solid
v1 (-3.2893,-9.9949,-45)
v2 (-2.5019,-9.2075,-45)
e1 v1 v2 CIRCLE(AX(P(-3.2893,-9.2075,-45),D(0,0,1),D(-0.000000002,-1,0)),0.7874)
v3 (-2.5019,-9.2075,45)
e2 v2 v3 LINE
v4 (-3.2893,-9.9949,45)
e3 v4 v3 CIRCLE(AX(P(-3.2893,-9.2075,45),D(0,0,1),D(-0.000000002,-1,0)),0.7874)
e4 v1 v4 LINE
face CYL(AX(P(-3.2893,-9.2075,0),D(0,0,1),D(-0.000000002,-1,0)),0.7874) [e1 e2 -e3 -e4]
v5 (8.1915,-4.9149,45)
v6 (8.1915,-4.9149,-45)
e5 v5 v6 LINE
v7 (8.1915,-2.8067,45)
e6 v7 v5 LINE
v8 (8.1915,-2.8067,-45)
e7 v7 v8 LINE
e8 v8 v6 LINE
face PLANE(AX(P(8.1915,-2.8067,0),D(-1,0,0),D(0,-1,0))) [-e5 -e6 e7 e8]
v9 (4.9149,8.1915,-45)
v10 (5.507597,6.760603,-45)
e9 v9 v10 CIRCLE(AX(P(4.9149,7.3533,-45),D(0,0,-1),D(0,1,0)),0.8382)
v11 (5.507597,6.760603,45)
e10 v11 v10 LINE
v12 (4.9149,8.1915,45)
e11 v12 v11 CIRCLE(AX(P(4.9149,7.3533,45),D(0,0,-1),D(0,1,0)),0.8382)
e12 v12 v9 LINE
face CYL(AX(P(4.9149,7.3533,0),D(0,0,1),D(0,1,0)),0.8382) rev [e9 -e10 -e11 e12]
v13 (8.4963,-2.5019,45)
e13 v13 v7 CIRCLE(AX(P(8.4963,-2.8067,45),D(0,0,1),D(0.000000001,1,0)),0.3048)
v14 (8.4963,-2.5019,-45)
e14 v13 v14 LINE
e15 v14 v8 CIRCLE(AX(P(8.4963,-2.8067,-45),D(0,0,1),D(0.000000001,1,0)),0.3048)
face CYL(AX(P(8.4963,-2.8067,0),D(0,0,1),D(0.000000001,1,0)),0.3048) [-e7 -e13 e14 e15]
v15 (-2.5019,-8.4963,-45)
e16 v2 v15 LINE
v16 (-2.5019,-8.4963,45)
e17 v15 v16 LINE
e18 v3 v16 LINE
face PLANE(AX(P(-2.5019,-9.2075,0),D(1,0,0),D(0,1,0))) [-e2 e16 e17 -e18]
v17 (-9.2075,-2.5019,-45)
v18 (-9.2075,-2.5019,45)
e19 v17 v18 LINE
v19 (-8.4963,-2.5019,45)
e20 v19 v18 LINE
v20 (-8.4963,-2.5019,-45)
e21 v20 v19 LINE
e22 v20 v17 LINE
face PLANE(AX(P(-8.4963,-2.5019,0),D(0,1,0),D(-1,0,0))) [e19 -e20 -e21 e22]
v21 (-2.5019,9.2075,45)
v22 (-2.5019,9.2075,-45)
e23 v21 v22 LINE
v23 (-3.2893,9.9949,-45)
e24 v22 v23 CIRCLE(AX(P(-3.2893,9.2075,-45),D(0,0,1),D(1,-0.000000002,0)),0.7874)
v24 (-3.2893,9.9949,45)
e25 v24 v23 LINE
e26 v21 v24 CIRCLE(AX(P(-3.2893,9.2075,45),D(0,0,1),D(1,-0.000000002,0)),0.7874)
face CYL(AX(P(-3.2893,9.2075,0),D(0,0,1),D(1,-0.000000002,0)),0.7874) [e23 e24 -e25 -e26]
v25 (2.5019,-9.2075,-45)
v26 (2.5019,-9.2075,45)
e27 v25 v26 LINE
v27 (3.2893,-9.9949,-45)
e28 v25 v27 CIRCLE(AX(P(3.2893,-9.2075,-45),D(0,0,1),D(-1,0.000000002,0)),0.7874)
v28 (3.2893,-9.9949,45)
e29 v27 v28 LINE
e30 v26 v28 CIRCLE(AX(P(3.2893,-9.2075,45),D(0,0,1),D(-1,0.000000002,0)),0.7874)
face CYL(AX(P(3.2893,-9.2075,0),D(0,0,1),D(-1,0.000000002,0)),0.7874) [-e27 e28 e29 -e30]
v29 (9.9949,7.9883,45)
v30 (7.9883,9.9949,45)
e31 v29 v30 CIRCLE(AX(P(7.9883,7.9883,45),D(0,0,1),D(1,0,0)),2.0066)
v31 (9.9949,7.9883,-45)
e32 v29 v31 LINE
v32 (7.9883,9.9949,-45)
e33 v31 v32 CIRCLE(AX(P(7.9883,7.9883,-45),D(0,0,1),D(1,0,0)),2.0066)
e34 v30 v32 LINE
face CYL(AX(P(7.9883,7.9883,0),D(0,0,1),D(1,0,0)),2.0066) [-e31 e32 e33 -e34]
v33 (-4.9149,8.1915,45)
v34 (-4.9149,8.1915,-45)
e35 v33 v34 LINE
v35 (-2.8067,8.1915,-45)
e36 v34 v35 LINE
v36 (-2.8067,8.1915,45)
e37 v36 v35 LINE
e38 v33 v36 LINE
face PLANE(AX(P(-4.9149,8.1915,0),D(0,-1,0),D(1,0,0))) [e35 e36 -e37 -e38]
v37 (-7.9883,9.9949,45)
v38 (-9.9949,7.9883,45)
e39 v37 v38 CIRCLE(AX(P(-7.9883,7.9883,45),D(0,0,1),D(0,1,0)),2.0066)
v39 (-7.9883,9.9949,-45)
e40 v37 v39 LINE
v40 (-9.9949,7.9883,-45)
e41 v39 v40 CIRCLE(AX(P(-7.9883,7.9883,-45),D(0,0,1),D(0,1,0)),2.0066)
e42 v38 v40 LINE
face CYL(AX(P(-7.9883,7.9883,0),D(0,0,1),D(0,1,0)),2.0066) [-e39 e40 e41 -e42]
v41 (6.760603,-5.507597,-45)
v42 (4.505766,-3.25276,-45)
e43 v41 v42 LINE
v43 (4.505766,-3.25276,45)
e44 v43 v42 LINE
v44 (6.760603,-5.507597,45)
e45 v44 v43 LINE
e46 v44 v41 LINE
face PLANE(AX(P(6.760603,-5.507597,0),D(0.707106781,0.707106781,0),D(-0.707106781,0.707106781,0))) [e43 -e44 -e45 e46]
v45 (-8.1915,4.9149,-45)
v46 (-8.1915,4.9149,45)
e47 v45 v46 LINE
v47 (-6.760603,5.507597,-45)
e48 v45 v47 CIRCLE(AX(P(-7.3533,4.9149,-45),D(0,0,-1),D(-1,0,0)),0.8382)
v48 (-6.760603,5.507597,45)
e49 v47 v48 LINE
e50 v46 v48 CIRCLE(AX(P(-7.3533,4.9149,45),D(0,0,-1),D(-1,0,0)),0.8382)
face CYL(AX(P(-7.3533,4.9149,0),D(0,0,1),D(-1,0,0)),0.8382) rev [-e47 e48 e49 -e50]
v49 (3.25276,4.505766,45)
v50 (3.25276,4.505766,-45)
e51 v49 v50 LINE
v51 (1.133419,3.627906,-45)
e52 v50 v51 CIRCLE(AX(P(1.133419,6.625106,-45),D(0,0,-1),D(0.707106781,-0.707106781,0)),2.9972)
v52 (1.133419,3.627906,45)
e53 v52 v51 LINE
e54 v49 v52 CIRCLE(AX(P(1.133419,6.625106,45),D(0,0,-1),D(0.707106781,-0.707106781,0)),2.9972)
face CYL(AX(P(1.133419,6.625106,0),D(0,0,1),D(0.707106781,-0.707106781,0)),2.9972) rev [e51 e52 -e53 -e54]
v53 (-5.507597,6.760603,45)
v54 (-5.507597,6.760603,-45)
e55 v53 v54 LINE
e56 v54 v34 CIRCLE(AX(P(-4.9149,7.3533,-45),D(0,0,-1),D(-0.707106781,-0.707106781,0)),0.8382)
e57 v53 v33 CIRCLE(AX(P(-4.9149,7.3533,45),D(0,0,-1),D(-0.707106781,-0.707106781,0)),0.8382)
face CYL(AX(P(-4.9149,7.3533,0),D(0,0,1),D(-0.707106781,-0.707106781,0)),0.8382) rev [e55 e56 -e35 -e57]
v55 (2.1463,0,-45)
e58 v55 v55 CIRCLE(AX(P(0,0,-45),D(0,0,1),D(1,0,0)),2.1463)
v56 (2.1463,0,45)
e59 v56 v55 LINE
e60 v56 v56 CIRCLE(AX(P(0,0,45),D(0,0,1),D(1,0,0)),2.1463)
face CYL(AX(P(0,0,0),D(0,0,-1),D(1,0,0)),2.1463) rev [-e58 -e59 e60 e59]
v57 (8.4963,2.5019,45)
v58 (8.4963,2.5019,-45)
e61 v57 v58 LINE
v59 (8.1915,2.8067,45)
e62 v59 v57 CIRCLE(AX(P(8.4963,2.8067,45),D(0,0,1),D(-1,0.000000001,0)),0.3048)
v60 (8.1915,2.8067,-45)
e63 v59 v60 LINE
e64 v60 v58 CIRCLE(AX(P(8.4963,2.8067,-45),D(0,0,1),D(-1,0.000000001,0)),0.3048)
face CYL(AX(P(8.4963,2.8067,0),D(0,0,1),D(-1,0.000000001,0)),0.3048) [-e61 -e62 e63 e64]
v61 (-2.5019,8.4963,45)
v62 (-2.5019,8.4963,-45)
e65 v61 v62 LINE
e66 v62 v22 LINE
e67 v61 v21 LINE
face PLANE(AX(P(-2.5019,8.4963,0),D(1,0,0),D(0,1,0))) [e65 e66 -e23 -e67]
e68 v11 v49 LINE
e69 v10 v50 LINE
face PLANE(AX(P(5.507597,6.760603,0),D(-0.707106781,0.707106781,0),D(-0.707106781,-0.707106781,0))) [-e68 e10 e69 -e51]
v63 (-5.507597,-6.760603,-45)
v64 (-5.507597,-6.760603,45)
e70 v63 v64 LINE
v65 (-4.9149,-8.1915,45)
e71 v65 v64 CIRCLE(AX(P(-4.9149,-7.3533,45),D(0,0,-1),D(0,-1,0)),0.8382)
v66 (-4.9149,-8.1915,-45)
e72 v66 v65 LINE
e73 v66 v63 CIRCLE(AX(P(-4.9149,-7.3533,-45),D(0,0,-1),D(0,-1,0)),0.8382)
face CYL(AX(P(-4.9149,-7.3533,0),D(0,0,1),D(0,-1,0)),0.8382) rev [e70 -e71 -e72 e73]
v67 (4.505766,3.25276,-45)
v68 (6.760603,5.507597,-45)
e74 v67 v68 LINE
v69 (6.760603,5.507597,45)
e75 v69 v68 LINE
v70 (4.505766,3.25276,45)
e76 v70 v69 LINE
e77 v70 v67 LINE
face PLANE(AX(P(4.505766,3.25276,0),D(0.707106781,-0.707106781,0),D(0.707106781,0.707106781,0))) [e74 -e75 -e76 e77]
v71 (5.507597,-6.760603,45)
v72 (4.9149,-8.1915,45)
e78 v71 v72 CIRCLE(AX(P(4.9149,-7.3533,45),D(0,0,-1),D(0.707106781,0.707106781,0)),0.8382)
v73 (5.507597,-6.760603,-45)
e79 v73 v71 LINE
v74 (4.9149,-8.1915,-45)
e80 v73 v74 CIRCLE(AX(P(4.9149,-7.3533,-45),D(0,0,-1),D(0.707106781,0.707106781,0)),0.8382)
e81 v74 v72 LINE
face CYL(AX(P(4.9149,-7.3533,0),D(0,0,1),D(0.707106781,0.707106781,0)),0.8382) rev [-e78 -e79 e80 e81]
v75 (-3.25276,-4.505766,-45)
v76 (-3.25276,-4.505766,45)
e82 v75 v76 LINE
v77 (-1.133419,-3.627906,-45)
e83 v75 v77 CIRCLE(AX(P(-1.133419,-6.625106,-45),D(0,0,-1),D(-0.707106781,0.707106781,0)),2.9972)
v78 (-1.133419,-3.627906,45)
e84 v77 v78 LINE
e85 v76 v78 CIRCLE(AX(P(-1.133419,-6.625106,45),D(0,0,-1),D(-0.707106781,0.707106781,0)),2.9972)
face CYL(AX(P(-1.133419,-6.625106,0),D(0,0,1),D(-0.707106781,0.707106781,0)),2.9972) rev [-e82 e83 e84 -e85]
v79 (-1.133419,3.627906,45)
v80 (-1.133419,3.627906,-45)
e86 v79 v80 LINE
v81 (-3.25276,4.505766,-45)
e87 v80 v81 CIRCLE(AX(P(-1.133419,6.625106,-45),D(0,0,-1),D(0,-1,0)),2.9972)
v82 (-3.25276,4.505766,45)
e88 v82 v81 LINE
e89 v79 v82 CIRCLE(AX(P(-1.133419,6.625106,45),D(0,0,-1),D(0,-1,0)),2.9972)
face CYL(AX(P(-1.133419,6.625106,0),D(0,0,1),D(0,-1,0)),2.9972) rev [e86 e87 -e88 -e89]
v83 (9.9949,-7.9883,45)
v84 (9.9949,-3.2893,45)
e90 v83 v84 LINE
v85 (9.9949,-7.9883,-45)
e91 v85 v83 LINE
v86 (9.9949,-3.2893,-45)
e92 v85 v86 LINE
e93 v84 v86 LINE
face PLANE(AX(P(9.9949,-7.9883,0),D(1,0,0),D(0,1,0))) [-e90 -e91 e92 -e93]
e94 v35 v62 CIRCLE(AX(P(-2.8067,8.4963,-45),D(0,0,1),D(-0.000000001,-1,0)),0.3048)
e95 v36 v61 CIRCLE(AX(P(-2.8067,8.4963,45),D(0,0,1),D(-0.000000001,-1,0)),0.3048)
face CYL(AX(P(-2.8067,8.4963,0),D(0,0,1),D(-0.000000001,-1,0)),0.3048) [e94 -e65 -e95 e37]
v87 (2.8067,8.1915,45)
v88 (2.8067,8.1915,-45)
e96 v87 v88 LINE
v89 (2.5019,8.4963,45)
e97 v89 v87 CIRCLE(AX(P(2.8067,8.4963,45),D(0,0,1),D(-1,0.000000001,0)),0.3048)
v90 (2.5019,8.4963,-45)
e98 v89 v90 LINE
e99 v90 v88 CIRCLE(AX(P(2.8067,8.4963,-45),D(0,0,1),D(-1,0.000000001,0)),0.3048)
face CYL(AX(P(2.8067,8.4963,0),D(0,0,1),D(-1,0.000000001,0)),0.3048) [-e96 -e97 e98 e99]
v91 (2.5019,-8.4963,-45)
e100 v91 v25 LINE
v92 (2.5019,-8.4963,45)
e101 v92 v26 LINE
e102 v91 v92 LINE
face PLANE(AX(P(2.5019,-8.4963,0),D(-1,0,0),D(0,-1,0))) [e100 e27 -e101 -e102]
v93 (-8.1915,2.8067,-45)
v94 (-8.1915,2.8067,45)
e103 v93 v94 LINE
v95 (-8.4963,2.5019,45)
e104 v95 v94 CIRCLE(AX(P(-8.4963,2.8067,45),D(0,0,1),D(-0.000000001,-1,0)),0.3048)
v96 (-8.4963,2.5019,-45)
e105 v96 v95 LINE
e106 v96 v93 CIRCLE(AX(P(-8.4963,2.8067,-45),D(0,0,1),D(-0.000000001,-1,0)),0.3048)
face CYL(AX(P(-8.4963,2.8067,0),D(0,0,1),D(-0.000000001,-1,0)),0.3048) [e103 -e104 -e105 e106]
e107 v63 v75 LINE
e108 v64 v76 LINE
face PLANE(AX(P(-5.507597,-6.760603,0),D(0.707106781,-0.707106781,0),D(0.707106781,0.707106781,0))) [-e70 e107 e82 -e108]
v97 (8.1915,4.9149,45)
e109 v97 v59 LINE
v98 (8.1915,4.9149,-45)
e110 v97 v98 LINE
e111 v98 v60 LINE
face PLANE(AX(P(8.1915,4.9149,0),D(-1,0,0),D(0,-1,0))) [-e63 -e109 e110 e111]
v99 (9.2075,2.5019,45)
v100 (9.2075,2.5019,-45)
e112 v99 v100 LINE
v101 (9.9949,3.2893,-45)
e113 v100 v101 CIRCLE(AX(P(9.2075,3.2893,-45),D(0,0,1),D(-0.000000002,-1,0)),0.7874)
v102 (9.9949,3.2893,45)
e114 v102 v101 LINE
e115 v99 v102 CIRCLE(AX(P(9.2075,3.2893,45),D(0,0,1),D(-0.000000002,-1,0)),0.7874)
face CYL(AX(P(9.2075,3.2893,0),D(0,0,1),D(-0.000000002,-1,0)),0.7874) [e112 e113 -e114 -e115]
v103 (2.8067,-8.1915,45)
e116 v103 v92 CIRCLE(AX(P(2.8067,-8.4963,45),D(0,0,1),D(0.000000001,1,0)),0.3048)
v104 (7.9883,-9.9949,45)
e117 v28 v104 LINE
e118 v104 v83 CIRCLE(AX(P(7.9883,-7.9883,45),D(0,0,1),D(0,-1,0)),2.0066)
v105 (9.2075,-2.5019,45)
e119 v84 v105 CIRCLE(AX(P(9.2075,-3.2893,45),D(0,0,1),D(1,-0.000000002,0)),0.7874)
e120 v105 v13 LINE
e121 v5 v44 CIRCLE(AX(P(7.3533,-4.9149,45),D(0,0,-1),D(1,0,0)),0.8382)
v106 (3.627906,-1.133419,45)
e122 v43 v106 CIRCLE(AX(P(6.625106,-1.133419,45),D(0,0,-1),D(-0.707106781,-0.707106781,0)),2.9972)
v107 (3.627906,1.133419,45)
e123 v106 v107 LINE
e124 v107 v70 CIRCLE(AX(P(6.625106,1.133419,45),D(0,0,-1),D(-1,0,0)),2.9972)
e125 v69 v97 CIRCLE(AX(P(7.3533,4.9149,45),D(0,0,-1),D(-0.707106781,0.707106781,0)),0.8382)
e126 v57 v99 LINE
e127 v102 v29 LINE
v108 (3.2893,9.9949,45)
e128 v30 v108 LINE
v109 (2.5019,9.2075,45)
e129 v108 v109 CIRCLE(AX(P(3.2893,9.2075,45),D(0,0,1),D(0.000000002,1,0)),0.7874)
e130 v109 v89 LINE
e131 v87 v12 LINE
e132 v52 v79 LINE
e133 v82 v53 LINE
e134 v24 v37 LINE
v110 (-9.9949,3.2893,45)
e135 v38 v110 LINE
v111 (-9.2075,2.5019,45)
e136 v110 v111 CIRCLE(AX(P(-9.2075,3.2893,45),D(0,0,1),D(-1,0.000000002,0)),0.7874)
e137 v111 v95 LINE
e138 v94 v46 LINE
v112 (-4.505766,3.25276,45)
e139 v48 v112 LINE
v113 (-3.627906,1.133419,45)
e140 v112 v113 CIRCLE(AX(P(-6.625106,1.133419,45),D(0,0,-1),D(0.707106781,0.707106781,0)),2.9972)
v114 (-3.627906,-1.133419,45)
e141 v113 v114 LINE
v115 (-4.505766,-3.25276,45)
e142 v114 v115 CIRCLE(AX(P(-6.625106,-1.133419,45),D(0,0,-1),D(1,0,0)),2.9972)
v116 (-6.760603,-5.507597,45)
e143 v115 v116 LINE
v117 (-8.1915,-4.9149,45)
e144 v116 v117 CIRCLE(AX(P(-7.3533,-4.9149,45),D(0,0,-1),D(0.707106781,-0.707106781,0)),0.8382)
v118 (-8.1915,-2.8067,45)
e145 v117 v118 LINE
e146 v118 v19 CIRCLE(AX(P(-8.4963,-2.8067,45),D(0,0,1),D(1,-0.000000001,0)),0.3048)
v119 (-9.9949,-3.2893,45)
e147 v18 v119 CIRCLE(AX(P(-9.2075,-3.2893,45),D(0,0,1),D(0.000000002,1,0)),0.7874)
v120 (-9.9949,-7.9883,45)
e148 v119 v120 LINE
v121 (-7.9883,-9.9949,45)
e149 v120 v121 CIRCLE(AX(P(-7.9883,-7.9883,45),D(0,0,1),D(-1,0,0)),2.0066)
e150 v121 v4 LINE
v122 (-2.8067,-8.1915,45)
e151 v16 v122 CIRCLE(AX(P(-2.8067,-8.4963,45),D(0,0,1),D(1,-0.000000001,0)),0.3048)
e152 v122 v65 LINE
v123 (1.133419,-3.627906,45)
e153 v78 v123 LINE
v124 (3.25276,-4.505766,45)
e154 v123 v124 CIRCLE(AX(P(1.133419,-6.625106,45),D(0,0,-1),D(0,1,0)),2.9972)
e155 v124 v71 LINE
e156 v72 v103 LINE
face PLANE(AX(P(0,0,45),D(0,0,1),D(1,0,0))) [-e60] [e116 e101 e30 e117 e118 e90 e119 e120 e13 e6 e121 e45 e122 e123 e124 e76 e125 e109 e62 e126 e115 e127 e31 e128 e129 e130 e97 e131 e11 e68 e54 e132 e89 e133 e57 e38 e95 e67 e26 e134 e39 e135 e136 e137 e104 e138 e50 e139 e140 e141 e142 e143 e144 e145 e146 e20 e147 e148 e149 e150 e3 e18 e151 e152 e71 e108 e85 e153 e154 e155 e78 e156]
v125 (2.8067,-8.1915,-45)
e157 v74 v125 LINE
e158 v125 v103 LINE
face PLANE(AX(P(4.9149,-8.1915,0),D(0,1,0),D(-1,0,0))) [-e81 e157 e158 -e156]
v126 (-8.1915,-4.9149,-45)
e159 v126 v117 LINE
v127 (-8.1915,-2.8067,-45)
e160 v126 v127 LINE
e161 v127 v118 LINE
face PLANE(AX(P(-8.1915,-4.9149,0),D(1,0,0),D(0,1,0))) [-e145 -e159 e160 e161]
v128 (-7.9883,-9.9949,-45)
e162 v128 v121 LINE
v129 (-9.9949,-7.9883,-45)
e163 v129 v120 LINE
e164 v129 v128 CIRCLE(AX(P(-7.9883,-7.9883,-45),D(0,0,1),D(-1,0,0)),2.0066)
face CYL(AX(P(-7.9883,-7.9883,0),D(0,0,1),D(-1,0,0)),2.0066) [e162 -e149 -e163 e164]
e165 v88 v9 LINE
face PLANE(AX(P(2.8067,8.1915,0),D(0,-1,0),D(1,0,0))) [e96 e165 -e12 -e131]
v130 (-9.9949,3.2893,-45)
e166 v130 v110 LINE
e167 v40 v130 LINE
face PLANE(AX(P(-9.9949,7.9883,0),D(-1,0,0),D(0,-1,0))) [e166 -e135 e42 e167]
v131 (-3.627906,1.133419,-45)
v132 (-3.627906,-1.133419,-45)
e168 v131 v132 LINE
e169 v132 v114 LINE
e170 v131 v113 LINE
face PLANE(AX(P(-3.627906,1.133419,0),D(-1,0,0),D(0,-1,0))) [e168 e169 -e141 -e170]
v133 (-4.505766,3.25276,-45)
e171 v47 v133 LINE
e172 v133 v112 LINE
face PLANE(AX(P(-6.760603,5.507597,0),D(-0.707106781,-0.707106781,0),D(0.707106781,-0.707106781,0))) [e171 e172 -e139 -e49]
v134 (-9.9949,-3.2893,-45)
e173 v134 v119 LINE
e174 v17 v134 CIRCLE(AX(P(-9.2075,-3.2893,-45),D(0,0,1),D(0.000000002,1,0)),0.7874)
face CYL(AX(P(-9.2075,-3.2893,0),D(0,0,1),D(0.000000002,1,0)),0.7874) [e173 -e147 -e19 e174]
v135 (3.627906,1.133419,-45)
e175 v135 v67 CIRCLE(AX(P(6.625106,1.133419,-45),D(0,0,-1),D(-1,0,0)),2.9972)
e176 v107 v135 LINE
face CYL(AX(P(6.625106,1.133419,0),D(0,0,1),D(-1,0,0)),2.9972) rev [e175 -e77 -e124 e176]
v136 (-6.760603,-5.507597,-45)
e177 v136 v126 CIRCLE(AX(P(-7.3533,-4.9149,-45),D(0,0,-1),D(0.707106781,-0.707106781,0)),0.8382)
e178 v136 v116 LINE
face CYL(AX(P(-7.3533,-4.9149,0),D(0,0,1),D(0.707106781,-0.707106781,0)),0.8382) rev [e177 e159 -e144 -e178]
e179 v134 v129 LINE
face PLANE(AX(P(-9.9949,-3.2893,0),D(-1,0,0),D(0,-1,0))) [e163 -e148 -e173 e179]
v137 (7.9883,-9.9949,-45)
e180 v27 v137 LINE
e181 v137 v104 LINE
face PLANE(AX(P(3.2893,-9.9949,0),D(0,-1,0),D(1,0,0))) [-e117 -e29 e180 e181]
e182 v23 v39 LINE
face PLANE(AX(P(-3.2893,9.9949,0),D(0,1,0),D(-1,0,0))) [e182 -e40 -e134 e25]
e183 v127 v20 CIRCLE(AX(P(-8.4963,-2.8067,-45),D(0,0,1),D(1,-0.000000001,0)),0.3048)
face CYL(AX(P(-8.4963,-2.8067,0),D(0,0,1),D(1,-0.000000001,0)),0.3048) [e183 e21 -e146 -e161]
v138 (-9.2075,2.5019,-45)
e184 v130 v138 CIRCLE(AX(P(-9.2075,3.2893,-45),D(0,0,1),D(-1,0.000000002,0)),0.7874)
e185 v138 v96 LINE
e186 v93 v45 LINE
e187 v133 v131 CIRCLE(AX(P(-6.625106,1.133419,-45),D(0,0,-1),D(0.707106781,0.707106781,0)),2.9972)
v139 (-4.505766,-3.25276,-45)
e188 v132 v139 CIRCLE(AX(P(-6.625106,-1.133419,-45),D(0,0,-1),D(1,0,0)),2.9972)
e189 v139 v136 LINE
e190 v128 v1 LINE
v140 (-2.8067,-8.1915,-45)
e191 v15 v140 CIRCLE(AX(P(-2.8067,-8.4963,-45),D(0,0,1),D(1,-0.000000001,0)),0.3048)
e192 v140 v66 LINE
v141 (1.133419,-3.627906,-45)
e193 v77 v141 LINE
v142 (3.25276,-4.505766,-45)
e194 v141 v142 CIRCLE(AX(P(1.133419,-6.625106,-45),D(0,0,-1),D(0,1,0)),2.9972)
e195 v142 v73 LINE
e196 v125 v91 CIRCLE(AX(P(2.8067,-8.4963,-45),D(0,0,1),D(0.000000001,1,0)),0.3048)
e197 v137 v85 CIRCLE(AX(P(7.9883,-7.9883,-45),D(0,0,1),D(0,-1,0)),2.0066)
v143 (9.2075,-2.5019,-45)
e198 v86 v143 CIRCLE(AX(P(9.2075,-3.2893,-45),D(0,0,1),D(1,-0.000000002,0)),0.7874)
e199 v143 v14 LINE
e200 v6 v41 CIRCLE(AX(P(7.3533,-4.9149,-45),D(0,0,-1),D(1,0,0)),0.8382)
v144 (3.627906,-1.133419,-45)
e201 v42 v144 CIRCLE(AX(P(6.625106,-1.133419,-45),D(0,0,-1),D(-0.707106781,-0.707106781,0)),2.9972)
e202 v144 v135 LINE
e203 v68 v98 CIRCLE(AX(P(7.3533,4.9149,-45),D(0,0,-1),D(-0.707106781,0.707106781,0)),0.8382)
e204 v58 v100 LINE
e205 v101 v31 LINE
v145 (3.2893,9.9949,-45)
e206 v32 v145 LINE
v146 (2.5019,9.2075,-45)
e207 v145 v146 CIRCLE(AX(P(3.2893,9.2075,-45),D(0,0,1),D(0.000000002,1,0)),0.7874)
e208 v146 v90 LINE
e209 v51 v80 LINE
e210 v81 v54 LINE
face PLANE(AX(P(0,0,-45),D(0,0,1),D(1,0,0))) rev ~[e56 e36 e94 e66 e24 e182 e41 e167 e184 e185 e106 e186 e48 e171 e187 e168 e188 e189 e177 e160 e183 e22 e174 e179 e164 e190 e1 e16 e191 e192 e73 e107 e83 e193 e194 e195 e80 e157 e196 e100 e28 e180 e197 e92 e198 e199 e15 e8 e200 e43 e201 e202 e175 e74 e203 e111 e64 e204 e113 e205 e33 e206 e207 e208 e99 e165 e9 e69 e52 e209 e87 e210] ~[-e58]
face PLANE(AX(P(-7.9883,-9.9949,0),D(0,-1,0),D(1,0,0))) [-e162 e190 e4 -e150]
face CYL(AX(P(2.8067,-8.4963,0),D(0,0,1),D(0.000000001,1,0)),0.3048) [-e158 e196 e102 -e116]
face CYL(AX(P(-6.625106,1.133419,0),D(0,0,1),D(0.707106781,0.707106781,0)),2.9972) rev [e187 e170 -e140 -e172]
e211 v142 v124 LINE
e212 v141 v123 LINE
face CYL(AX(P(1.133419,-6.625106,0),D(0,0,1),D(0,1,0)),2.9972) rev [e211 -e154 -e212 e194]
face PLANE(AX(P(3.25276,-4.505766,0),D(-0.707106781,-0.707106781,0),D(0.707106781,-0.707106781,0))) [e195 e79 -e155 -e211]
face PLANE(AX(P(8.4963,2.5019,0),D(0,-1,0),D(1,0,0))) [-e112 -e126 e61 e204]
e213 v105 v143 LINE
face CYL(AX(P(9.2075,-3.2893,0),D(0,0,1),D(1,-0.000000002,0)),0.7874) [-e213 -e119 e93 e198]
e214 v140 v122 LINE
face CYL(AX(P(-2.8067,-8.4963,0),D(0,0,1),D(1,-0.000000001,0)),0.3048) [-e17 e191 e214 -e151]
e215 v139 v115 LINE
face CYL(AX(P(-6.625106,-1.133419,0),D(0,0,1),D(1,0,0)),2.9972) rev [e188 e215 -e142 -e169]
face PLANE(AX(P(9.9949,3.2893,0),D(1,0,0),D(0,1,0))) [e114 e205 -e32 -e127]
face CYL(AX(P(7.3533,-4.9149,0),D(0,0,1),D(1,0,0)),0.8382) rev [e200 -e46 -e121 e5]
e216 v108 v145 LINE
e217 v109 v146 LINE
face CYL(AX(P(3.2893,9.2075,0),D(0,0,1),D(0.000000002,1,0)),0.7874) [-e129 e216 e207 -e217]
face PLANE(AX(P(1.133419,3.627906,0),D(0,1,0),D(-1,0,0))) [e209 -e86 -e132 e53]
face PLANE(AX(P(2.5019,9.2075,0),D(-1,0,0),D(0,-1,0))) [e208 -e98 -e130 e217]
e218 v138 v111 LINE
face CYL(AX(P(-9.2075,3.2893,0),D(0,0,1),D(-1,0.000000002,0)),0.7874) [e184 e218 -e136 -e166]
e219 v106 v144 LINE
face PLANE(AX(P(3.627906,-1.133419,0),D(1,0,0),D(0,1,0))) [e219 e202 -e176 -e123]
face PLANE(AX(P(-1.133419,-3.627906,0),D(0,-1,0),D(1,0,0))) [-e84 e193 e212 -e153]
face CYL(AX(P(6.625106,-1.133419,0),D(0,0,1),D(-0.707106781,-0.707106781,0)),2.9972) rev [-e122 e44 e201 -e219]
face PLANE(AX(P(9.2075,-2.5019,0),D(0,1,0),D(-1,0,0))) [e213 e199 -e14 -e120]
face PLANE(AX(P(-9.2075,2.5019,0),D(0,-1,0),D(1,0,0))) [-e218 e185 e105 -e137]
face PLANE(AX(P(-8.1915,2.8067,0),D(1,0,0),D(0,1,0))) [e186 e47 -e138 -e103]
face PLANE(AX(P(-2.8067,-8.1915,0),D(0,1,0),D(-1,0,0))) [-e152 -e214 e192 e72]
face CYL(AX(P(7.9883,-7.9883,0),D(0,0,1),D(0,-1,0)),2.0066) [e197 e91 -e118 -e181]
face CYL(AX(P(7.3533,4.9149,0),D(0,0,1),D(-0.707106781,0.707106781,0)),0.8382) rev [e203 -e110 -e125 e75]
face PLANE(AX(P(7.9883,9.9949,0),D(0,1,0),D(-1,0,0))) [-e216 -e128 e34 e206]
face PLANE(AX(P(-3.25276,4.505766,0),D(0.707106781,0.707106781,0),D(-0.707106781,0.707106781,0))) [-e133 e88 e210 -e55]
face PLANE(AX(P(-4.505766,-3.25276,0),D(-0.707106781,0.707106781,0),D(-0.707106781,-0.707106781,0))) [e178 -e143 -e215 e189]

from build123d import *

# Parameters (mm, degrees)
SKETCH1_R           = 2.1463
BOSS_EXTRUDE1_DEPTH = 45


with BuildPart() as part:
    # Sketch1 → Boss-Extrude1 (new body, symmetric)
    with BuildSketch(Plane.XY):
        with BuildLine():
            Line((-9.9949, 7.9883), (-9.9949, 3.2893))
            ThreePointArc((-9.9949, 3.2893), (-9.76427588, 2.73252412), (-9.2075, 2.5019))
            Line((-9.2075, 2.5019), (-8.4963, 2.5019))
            ThreePointArc((-8.4963, 2.5019), (-8.280773853, 2.591173853), (-8.1915, 2.8067))
            Line((-8.1915, 2.8067), (-8.1915, 4.9149))
            ThreePointArc((-8.1915, 4.9149), (-7.674065253, 5.689295824), (-6.760603096, 5.507596904))
            Line((-6.760603096, 5.507596904), (-4.505765747, 3.252759555))
            ThreePointArc((-4.505765747, 3.252759555), (-3.856054457, 2.280397894), (-3.627906192, 1.133419111))
            Line((-3.627906192, 1.133419111), (-3.627906192, -1.133419111))
            ThreePointArc((-3.627906192, -1.133419111), (-3.856054457, -2.280397894), (-4.505765747, -3.252759555))
            Line((-4.505765747, -3.252759555), (-6.760603096, -5.507596904))
            ThreePointArc((-6.760603096, -5.507596904), (-7.674065253, -5.689295824), (-8.1915, -4.9149))
            Line((-8.1915, -4.9149), (-8.1915, -2.8067))
            ThreePointArc((-8.1915, -2.8067), (-8.280773853, -2.591173853), (-8.4963, -2.5019))
            Line((-8.4963, -2.5019), (-9.2075, -2.5019))
            ThreePointArc((-9.2075, -2.5019), (-9.76427588, -2.73252412), (-9.9949, -3.2893))
            Line((-9.9949, -3.2893), (-9.9949, -7.9883))
            ThreePointArc((-9.9949, -7.9883), (-9.407180467, -9.407180467), (-7.9883, -9.9949))
            Line((-7.9883, -9.9949), (-3.2893, -9.9949))
            ThreePointArc((-3.2893, -9.9949), (-2.73252412, -9.76427588), (-2.5019, -9.2075))
            Line((-2.5019, -9.2075), (-2.5019, -8.4963))
            ThreePointArc((-2.5019, -8.4963), (-2.591173853, -8.280773853), (-2.8067, -8.1915))
            Line((-2.8067, -8.1915), (-4.9149, -8.1915))
            ThreePointArc((-4.9149, -8.1915), (-5.689295824, -7.674065253), (-5.507596904, -6.760603096))
            Line((-5.507596904, -6.760603096), (-3.252759555, -4.505765747))
            ThreePointArc((-3.252759555, -4.505765747), (-2.280397894, -3.856054457), (-1.133419111, -3.627906192))
            Line((-1.133419111, -3.627906192), (1.133419111, -3.627906192))
            ThreePointArc((1.133419111, -3.627906192), (2.280397894, -3.856054457), (3.252759555, -4.505765747))
            Line((3.252759555, -4.505765747), (5.507596904, -6.760603096))
            ThreePointArc((5.507596904, -6.760603096), (5.689295824, -7.674065253), (4.9149, -8.1915))
            Line((4.9149, -8.1915), (2.8067, -8.1915))
            ThreePointArc((2.8067, -8.1915), (2.591173853, -8.280773853), (2.5019, -8.4963))
            Line((2.5019, -8.4963), (2.5019, -9.2075))
            ThreePointArc((2.5019, -9.2075), (2.73252412, -9.76427588), (3.2893, -9.9949))
            Line((3.2893, -9.9949), (7.9883, -9.9949))
            ThreePointArc((7.9883, -9.9949), (9.407180467, -9.407180467), (9.9949, -7.9883))
            Line((9.9949, -7.9883), (9.9949, -3.2893))
            ThreePointArc((9.9949, -3.2893), (9.76427588, -2.73252412), (9.2075, -2.5019))
            Line((9.2075, -2.5019), (8.4963, -2.5019))
            ThreePointArc((8.4963, -2.5019), (8.280773853, -2.591173853), (8.1915, -2.8067))
            Line((8.1915, -2.8067), (8.1915, -4.9149))
            ThreePointArc((8.1915, -4.9149), (7.674065253, -5.689295824), (6.760603096, -5.507596904))
            Line((6.760603096, -5.507596904), (4.505765747, -3.252759555))
            ThreePointArc((4.505765747, -3.252759555), (3.856054457, -2.280397894), (3.627906192, -1.133419111))
            Line((3.627906192, -1.133419111), (3.627906192, 1.133419111))
            ThreePointArc((3.627906192, 1.133419111), (3.856054457, 2.280397894), (4.505765747, 3.252759555))
            Line((4.505765747, 3.252759555), (6.760603096, 5.507596904))
            ThreePointArc((6.760603096, 5.507596904), (7.674065253, 5.689295824), (8.1915, 4.9149))
            Line((8.1915, 4.9149), (8.1915, 2.8067))
            ThreePointArc((8.1915, 2.8067), (8.280773853, 2.591173853), (8.4963, 2.5019))
            Line((8.4963, 2.5019), (9.2075, 2.5019))
            ThreePointArc((9.2075, 2.5019), (9.76427588, 2.73252412), (9.9949, 3.2893))
            Line((9.9949, 3.2893), (9.9949, 7.9883))
            ThreePointArc((9.9949, 7.9883), (9.407180467, 9.407180467), (7.9883, 9.9949))
            Line((7.9883, 9.9949), (3.2893, 9.9949))
            ThreePointArc((3.2893, 9.9949), (2.73252412, 9.76427588), (2.5019, 9.2075))
            Line((2.5019, 9.2075), (2.5019, 8.4963))
            ThreePointArc((2.5019, 8.4963), (2.591173853, 8.280773853), (2.8067, 8.1915))
            Line((2.8067, 8.1915), (4.9149, 8.1915))
            ThreePointArc((4.9149, 8.1915), (5.689295824, 7.674065253), (5.507596904, 6.760603096))
            Line((5.507596904, 6.760603096), (3.252759555, 4.505765747))
            ThreePointArc((3.252759555, 4.505765747), (2.280397894, 3.856054457), (1.133419111, 3.627906192))
            Line((1.133419111, 3.627906192), (-1.133419111, 3.627906192))
            ThreePointArc((-1.133419111, 3.627906192), (-2.280397894, 3.856054457), (-3.252759555, 4.505765747))
            Line((-3.252759555, 4.505765747), (-5.507596904, 6.760603096))
            ThreePointArc((-5.507596904, 6.760603096), (-5.689295824, 7.674065253), (-4.9149, 8.1915))
            Line((-4.9149, 8.1915), (-2.8067, 8.1915))
            ThreePointArc((-2.8067, 8.1915), (-2.591173853, 8.280773853), (-2.5019, 8.4963))
            Line((-2.5019, 8.4963), (-2.5019, 9.2075))
            ThreePointArc((-2.5019, 9.2075), (-2.73252412, 9.76427588), (-3.2893, 9.9949))
            Line((-3.2893, 9.9949), (-7.9883, 9.9949))
            ThreePointArc((-7.9883, 9.9949), (-9.407180467, 9.407180467), (-9.9949, 7.9883))
        make_face()
        Circle(SKETCH1_R, mode=Mode.SUBTRACT)
    extrude(amount=BOSS_EXTRUDE1_DEPTH, both=True)


solid = part.part
